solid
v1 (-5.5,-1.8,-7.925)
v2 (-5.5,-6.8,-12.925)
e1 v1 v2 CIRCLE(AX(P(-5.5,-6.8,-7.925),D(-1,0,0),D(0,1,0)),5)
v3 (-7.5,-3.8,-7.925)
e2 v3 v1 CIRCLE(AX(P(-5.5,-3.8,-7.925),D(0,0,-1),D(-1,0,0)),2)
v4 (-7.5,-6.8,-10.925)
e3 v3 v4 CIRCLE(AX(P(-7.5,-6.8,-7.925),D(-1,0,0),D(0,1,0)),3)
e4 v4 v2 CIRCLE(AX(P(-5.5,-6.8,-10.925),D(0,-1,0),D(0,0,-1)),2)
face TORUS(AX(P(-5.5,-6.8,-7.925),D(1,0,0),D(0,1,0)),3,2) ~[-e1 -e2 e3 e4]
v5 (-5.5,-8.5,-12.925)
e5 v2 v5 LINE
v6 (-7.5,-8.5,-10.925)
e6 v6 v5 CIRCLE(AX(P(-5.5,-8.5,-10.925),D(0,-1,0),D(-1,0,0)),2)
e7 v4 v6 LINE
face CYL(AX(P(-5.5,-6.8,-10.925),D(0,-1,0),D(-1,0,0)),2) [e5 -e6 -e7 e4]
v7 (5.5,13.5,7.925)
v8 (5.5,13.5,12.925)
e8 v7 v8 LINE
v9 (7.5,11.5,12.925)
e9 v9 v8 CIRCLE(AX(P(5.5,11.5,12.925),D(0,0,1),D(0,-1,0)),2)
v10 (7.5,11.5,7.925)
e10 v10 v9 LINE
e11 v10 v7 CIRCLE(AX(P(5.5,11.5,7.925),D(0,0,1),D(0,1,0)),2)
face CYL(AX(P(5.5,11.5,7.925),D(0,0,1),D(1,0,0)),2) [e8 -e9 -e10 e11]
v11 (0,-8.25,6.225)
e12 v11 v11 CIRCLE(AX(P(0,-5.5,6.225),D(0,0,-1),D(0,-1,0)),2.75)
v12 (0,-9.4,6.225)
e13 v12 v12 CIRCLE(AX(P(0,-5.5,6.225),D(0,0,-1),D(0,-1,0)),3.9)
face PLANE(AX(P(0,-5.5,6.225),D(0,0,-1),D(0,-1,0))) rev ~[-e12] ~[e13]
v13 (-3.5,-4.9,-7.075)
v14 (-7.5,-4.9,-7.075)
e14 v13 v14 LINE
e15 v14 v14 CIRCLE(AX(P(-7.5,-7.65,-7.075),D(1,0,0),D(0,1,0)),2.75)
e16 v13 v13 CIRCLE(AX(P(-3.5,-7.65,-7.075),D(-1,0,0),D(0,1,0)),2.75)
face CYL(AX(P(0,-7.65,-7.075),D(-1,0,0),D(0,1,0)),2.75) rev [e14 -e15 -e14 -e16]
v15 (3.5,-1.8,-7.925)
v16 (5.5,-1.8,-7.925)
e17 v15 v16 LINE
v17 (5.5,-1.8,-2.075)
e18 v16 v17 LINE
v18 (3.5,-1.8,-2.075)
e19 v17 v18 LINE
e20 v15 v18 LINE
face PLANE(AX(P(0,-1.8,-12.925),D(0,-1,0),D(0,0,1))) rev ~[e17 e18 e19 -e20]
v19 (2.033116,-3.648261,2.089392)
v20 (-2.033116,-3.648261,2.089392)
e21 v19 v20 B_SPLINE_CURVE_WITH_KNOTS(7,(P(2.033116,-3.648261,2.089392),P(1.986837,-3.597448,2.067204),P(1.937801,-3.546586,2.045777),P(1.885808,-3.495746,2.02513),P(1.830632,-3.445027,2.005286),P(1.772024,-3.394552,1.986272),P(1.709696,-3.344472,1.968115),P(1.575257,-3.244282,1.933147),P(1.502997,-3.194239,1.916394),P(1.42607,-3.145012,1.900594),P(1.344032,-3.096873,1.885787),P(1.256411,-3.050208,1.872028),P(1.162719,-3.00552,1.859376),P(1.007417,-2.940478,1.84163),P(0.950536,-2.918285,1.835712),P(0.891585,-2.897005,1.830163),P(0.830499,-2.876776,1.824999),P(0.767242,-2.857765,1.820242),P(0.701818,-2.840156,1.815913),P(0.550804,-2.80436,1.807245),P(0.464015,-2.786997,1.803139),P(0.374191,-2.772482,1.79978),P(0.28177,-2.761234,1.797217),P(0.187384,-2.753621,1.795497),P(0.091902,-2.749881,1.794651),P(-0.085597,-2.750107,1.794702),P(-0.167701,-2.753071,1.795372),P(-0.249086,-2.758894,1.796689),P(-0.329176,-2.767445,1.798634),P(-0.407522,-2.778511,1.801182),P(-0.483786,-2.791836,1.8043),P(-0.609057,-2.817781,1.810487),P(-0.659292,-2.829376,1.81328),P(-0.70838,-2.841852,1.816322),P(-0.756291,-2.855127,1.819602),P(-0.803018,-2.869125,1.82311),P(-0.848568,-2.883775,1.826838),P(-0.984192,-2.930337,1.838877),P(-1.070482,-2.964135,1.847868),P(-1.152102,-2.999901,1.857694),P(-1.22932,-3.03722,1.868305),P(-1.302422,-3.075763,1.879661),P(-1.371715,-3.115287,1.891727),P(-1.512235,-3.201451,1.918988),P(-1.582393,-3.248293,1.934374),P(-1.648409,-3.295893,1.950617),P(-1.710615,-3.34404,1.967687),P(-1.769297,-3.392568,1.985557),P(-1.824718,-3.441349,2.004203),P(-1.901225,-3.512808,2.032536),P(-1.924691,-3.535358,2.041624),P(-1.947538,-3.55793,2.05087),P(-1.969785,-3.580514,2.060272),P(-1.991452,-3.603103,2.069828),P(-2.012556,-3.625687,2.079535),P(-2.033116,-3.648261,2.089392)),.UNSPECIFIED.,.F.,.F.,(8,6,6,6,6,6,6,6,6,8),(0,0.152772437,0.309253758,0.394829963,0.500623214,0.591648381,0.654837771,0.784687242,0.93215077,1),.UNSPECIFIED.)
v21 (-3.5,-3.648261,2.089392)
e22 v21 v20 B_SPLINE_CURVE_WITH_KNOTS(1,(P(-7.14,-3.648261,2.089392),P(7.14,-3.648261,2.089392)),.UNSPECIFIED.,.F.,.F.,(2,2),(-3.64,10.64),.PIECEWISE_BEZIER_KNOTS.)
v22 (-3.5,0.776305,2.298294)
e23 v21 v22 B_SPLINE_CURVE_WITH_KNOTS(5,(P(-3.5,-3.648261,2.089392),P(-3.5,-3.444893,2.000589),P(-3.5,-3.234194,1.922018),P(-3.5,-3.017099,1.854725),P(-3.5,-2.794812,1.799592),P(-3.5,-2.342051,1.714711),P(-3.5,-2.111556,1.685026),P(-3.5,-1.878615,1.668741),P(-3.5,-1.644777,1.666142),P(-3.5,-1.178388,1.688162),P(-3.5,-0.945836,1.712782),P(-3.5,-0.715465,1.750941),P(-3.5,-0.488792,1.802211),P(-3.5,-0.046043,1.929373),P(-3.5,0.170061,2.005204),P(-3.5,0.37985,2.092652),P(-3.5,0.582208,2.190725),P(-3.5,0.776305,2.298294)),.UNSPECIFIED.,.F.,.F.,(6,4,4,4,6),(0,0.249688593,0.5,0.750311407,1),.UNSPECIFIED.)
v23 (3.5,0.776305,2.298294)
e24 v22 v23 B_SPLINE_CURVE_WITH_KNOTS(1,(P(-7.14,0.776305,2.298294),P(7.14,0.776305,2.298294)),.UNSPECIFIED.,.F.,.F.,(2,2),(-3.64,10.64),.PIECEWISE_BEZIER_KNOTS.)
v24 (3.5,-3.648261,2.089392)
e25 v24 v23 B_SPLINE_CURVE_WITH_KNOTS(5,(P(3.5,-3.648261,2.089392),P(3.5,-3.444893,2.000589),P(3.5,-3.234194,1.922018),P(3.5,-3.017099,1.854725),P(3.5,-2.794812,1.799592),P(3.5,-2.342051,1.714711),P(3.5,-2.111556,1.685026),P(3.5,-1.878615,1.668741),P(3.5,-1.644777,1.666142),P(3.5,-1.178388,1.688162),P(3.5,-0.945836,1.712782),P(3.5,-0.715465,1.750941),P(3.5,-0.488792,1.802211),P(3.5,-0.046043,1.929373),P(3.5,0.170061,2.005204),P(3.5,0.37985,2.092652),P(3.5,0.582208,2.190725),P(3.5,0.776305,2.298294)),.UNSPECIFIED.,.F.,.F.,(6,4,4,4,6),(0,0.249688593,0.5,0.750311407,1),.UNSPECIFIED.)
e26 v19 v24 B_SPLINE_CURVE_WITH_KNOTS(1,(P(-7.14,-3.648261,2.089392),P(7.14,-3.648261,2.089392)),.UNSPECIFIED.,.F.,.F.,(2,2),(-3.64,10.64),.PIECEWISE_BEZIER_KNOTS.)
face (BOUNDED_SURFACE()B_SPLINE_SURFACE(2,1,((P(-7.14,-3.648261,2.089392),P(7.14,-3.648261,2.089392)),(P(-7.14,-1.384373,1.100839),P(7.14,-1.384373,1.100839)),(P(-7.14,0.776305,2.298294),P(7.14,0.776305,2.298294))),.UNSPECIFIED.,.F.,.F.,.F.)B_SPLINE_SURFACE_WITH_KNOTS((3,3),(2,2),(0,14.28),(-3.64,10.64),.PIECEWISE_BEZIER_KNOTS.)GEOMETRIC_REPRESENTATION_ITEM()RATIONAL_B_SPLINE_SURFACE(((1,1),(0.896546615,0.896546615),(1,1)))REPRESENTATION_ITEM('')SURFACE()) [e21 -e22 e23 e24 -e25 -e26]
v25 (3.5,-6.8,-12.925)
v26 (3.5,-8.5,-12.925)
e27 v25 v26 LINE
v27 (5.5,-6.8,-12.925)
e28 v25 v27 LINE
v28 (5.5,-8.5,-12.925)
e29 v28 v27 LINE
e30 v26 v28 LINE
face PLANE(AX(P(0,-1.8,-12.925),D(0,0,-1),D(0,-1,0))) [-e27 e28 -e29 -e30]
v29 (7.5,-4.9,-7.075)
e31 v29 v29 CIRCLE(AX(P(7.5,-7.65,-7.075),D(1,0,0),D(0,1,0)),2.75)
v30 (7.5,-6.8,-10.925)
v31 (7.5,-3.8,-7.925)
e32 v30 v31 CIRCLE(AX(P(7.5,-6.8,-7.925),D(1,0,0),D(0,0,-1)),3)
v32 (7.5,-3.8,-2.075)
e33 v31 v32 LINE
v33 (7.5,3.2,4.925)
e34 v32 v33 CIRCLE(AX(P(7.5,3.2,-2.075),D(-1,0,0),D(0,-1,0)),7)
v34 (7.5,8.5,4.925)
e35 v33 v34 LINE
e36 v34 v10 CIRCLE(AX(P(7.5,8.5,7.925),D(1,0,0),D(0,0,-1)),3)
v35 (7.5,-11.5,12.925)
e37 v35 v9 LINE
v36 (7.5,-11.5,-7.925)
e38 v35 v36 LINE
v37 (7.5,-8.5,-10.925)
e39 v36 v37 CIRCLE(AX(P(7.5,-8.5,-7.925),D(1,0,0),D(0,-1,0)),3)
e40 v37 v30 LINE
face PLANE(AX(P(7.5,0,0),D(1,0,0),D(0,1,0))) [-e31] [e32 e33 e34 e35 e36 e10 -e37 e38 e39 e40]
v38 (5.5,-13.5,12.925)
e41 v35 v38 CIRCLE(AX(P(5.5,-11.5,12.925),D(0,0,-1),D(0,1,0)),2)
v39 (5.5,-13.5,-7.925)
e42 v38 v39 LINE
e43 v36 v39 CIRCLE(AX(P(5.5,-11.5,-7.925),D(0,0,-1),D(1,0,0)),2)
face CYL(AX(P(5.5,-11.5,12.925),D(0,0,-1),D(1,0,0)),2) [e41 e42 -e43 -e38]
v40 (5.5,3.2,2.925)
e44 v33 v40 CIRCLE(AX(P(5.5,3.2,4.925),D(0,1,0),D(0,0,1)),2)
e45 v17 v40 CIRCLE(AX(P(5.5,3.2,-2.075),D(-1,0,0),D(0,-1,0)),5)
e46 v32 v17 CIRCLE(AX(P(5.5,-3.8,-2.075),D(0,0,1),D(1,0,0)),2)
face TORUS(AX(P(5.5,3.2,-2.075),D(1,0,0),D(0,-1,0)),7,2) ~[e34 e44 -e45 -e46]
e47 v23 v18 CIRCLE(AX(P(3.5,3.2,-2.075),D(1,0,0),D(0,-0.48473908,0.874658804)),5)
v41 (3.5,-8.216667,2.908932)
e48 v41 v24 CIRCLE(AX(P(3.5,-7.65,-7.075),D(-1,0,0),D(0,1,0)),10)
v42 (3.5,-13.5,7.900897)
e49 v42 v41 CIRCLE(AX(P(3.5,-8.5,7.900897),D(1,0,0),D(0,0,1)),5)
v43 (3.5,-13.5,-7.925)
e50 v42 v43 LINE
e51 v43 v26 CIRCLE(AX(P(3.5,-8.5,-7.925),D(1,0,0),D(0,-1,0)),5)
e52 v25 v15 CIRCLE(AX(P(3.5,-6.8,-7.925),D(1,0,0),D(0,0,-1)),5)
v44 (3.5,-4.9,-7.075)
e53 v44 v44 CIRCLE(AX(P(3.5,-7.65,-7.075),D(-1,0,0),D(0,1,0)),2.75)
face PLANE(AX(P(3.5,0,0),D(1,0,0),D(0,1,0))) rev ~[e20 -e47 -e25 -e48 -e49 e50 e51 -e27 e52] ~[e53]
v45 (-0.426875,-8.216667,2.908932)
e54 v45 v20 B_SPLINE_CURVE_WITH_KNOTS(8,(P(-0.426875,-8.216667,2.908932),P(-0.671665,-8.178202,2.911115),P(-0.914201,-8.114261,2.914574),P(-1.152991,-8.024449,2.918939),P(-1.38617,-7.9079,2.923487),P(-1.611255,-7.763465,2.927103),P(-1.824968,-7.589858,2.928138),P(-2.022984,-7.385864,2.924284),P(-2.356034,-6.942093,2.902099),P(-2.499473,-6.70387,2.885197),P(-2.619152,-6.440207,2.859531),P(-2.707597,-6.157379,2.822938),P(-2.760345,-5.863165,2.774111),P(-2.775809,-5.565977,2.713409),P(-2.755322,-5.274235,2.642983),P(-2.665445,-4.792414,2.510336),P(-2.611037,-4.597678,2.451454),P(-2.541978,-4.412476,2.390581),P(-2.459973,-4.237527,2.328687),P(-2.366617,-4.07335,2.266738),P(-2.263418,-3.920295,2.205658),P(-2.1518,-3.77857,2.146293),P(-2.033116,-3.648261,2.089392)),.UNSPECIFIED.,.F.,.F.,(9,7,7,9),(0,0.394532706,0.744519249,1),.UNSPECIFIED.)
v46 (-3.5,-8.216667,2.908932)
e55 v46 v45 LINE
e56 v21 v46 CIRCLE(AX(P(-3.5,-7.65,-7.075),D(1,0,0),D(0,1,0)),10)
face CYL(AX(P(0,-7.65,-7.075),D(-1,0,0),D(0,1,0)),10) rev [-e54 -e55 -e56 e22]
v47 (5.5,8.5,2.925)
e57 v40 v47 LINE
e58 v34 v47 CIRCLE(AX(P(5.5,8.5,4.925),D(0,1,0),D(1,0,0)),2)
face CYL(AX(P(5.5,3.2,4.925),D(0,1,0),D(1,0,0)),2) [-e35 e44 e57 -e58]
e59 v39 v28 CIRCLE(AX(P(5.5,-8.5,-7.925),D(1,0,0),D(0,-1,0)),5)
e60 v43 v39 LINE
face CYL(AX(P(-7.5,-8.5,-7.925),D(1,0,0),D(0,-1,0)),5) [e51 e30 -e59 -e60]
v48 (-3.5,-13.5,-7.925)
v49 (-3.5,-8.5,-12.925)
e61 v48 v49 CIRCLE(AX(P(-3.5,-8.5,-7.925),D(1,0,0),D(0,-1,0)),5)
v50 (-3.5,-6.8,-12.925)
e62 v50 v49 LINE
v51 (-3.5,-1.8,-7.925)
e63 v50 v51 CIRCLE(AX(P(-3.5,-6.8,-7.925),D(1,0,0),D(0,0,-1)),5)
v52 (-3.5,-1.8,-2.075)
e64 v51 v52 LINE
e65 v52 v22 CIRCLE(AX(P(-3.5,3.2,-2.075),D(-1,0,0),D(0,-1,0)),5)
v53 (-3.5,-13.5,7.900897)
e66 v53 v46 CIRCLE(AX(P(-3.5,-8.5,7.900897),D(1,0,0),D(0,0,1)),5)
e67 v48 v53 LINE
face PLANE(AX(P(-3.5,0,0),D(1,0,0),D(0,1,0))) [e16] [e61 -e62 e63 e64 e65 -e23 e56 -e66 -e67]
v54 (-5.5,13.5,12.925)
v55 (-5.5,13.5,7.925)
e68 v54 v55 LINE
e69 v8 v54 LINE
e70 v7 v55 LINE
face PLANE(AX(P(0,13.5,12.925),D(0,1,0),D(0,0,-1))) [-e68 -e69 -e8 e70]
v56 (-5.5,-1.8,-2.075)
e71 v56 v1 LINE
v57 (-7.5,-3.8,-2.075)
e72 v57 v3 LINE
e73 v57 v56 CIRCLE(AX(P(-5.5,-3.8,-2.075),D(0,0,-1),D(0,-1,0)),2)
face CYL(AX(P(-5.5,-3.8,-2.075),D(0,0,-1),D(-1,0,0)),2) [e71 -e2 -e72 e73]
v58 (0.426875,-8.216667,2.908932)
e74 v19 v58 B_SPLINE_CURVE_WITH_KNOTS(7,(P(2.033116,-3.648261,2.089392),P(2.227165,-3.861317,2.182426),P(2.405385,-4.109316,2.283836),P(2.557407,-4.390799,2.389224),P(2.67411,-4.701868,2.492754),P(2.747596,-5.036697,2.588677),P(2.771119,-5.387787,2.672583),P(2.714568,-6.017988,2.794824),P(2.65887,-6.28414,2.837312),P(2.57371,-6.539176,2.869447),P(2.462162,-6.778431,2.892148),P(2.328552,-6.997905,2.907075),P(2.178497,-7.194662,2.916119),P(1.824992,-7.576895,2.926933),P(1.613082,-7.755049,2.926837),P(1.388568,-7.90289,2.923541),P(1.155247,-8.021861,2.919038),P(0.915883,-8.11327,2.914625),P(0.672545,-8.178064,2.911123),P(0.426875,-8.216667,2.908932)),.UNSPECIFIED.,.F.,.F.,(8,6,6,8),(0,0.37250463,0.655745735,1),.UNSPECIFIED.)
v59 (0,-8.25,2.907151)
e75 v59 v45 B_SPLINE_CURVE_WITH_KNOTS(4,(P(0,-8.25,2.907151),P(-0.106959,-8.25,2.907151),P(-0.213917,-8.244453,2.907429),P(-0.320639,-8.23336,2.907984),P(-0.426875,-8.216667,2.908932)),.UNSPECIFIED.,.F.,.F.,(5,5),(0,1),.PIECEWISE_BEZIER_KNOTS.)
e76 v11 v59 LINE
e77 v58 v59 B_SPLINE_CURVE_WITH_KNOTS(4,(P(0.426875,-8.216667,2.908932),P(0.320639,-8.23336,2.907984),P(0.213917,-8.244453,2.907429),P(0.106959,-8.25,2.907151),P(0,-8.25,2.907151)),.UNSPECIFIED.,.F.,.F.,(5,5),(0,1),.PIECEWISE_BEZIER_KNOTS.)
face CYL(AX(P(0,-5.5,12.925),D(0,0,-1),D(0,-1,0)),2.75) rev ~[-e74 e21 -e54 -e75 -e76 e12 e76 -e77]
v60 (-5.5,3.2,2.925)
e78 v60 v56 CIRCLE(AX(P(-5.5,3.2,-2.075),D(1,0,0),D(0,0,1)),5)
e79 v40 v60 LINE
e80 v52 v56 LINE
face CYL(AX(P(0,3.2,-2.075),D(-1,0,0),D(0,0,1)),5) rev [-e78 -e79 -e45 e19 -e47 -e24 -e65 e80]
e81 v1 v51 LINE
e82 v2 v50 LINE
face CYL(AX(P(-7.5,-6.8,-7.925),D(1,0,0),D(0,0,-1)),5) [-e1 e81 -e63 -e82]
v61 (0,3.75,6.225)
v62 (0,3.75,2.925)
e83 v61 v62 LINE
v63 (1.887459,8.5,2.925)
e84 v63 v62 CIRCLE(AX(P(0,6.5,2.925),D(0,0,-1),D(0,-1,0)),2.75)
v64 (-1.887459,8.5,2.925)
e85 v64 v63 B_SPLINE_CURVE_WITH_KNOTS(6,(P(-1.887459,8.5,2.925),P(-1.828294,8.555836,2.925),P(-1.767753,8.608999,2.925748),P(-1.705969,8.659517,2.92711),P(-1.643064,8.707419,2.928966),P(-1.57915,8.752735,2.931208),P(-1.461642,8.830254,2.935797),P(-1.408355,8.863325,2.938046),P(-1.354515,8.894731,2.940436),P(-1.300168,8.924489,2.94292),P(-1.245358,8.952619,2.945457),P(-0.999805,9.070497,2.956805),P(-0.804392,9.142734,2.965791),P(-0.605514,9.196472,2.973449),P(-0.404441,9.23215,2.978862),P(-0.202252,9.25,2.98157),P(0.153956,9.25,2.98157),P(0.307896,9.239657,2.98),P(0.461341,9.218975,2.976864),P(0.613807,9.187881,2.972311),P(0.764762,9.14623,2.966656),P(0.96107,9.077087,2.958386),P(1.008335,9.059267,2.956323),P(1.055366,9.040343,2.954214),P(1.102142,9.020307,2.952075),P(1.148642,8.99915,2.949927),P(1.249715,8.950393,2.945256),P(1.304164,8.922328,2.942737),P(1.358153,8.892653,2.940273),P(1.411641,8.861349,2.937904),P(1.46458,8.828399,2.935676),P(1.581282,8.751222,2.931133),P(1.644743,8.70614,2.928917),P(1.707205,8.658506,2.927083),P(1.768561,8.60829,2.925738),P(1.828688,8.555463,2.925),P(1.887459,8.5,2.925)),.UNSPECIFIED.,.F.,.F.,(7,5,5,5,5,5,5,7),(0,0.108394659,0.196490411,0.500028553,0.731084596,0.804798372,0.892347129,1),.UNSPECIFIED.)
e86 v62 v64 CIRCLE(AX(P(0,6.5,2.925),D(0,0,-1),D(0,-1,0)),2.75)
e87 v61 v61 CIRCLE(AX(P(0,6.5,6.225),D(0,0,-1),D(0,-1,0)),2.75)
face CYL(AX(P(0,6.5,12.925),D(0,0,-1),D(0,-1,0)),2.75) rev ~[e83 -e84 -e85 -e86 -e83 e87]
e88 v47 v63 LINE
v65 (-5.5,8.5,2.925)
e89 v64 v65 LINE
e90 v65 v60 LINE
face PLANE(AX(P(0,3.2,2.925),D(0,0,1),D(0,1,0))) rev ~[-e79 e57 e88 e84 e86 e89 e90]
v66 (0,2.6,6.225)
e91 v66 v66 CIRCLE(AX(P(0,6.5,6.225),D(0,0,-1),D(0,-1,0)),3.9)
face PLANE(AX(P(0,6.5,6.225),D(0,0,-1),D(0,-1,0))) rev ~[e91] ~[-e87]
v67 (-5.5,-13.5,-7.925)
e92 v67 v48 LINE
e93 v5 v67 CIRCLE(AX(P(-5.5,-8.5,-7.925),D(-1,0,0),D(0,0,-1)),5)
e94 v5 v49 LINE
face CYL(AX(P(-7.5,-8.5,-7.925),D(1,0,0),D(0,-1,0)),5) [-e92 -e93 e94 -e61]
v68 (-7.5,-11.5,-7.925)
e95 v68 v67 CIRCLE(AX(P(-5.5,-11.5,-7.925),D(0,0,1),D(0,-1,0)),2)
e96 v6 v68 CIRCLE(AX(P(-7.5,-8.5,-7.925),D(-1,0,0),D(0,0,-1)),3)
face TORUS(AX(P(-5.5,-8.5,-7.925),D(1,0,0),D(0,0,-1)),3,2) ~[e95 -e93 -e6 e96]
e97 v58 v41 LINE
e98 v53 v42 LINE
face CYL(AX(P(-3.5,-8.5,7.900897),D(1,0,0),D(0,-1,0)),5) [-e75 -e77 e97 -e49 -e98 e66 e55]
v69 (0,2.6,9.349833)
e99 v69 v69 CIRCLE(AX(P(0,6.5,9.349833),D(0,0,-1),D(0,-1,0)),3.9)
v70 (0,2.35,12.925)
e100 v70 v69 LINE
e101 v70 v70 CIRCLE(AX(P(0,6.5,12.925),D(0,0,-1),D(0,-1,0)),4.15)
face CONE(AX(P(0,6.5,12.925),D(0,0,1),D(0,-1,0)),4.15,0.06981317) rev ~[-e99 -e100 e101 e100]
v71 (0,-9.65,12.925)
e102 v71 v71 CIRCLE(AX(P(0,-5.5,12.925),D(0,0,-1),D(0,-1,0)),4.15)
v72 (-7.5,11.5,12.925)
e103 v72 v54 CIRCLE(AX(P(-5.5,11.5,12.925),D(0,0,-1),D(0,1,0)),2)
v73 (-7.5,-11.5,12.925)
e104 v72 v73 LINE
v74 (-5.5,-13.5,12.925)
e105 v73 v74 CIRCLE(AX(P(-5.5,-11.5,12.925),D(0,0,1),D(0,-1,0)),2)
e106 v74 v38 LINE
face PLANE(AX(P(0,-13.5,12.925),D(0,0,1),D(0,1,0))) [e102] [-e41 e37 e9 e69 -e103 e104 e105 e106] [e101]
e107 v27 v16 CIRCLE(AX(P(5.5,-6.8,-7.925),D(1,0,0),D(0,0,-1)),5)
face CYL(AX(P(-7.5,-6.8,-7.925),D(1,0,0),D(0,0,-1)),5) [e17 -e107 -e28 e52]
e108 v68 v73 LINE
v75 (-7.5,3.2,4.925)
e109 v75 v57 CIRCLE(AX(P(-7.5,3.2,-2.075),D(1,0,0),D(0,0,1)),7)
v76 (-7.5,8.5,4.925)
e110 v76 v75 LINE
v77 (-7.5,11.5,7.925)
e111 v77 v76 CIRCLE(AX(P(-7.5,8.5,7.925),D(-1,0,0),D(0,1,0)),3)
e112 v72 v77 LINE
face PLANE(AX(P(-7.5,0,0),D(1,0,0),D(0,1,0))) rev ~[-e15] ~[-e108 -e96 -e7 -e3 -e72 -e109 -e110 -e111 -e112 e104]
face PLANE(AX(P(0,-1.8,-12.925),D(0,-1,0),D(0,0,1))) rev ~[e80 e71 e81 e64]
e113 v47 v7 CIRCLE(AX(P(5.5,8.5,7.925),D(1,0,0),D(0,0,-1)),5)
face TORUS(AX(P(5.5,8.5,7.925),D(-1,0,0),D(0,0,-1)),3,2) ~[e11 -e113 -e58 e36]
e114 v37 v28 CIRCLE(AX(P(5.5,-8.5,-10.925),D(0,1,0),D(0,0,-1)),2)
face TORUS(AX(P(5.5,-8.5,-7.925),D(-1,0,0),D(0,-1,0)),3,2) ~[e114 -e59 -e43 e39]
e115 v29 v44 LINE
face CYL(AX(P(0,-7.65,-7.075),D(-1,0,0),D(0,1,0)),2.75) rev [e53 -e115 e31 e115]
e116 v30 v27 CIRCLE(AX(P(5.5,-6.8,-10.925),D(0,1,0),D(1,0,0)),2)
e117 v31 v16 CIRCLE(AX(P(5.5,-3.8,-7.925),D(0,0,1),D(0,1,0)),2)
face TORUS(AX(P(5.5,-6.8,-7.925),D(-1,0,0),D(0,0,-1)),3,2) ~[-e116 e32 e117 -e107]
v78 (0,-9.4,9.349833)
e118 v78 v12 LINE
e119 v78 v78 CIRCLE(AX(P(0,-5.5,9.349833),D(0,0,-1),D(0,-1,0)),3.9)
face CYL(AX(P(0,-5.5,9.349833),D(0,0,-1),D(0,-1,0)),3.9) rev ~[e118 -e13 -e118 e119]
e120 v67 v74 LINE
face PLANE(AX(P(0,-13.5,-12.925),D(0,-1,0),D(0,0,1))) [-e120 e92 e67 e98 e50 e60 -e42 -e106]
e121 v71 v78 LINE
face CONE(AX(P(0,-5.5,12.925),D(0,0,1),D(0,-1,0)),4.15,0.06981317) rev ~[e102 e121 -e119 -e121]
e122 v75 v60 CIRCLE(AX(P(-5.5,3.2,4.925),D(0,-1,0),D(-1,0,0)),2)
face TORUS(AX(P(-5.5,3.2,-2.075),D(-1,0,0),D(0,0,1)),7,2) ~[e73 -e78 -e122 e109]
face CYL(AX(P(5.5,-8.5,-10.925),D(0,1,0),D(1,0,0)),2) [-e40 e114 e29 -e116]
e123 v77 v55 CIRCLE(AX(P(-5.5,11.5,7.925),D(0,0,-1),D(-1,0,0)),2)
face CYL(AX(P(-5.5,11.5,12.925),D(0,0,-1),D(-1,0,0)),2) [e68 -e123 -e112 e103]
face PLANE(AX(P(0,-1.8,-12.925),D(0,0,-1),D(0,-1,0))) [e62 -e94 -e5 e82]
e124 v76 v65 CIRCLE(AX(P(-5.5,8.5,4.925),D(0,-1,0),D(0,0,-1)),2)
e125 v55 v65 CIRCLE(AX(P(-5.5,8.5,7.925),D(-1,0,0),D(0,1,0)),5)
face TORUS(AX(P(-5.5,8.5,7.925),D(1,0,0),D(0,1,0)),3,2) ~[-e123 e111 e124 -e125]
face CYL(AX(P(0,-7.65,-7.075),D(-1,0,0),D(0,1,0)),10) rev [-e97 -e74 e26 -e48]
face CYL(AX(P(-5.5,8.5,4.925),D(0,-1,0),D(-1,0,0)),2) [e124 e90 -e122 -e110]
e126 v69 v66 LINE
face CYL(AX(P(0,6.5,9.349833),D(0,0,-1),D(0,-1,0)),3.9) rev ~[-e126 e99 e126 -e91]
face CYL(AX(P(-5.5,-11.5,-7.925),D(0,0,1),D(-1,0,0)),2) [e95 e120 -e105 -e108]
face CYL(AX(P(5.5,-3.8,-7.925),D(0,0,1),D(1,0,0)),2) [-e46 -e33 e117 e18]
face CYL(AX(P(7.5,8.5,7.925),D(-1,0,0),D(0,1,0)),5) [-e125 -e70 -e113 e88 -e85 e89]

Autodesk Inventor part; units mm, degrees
ref_plane "YZ Plane" through (0, 0, 0) normal (1, 0, 0) x (0, 1, 0)
ref_plane "XZ Plane" through (0, 0, 0) normal (0, 1, 0) x (-1, 0, 0)
ref_plane "XY Plane" through (0, 0, 0) normal (0, 0, 1) x (1, 0, 0)
sketch "Sketch1" plane through (0, 0, 0) normal (1, 0, 0) x (0, 1, 0)
  line L0 (-13.5, 12.925) -> (13.5, 12.925)
  line L1 (13.5, 12.925) -> (13.5, -12.925)
  line L2 (13.5, -12.925) -> (-13.5, -12.925)
  line L3 (-13.5, -12.925) -> (-13.5, 12.925)
  line L4 (-13.5, 12.925) -> (13.5, -12.925) construction
  line L5 (13.5, 12.925) -> (-13.5, -12.925) construction
  circle A0 centre (-7.65, -7.075) radius 8 construction
  line L6 (-5.5, 12.925) -> (-5.5, 10.887)
  circle A1 centre (-7.65, -7.075) radius 2.75
  line L7 (-1.8, -12.925) -> (-1.8, -2.075)
  arc A2 (3.2, 2.925) -> (-1.8, -2.075) centre (3.2, -2.075) ccw
  line L8 (3.2, 2.925) -> (13.5, 2.925)
  point P0 (0, 0)
  dimension "d0" = 27
  dimension "d1" = 25.85
  dimension "d2" = 16
  dimension "d3" = 21.15
  dimension "d4" = 19
  dimension "d5" = 20
  dimension "d6" = 5.5
  dimension "d7" = 5.85
  dimension "d8" = 5.85
  dimension "d9" = 5.85
  dimension "d10" = 10
  dimension "d11" = 5
extrude "Extrusion1" add sketch "Sketch1" along normal mid plane 15 contours L0 L1 L8 A2 L7 L2 L3
fillet "Fillet1" radius 5 3 edges at (0, -1.8, -12.925) (0, -13.5, -12.925) (0, 13.5, 2.925)
sketch "Sketch2" plane through (0, 0, 0) normal (1, 0, 0) x (0, 1, 0)
  arc A0 (8.5, 2.925) -> (13.5, 7.925) centre (8.5, 7.925) ccw projected
  line L0 (13.5, 7.925) -> (13.5, 12.925) projected
  line L1 (13.5, 12.925) -> (-13.5, 12.925) projected
  line L2 (-13.5, 12.925) -> (-13.5, -7.925) projected
  arc A1 (-13.5, -7.925) -> (-8.5, -12.925) centre (-8.5, -7.925) ccw projected
  line L3 (-8.5, -12.925) -> (-6.8, -12.925) projected
  arc A2 (-6.8, -12.925) -> (-1.8, -7.925) centre (-6.8, -7.925) ccw projected
  line L4 (-1.8, -7.925) -> (-1.8, -2.075) projected
  arc A3 (3.2, 2.925) -> (-1.8, -2.075) centre (3.2, -2.075) ccw projected
  line L5 (3.2, 2.925) -> (8.5, 2.925) projected
  circle A4 centre (-7.65, -7.075) radius 2.75 projected
  circle A5 centre (-7.65, -7.075) radius 10
  point P0 (0, 0)
  dimension "d15" = 20
extrude "Extrusion2" cut sketch "Sketch2" against normal mid plane 7 contours A5 L2 A1 L3 A2 L4 A3 | A3 L4 A2 L3 A1 L2 A5 | A4
fillet "Fillet2" radius 5 2 edges at (0, -1.0981, 0.4797) (0, -13.5, 1.0353)
sketch "Sketch3" plane through (-7.5, -13.5, 12.925) normal (0, 0, 1) x (1, 0, 0)
  line L0 (0, 27) -> (15, 27) projected
  point P0 (7.5, 13.5)
  point P1 (7.5, 20)
  point P2 (7.5, 8)
  dimension "d19" = 7
  dimension "d20" = 19
hole "Hole1" at (0, 6.5, 12.925) at (0, -5.5, 12.925) direction (0, 0, -1) diameter 7.8 depth 6.7 countersink diameter 8.3 countersink angle 8
sketch "Sketch4" plane through (-7.5, -13.5, 12.925) normal (0, 0, 1) x (1, 0, 0)
  circle A0 centre (7.5, 20) radius 3.9 projected
  circle A1 centre (7.5, 8) radius 3.9 projected
  point P0 (7.5, 13.5)
hole "Hole2" at (0, 6.5, 12.925) at (0, -5.5, 12.925) direction (0, 0, -1) diameter 5.5 end through all clearance for "Flat Head Machine Screw" size "M5" standard "Ansi Metric M Profile"
fillet "Fillet3" radius 2 18 edges at (7.5, 5.85, 2.925) (7.5, -0.3355, 1.4605) (7.5, -1.8, -5) (7.5, -3.2645, -11.4605) (7.5, -7.65, -12.925) (7.5, -12.0355, -11.4605) (7.5, -13.5, 2.5) (7.5, 13.5, 10.425) (7.5, 12.0355, 4.3895) (-7.5, 13.5, 10.425) (-7.5, 5.85, 2.925) (-7.5, -0.3355, 1.4605) (-7.5, -1.8, -5) (-7.5, -3.2645, -11.4605) (-7.5, -7.65, -12.925) (-7.5, -12.0355, -11.4605) (-7.5, -13.5, 2.5) (-7.5, 12.0355, 4.3895)
equation "\"d8\" = d7"
equation "\"d9\" = d7"
properties part number "Y-Axis_Belt_Bearing_Mount_LM3045" material "ABS Plastic"
